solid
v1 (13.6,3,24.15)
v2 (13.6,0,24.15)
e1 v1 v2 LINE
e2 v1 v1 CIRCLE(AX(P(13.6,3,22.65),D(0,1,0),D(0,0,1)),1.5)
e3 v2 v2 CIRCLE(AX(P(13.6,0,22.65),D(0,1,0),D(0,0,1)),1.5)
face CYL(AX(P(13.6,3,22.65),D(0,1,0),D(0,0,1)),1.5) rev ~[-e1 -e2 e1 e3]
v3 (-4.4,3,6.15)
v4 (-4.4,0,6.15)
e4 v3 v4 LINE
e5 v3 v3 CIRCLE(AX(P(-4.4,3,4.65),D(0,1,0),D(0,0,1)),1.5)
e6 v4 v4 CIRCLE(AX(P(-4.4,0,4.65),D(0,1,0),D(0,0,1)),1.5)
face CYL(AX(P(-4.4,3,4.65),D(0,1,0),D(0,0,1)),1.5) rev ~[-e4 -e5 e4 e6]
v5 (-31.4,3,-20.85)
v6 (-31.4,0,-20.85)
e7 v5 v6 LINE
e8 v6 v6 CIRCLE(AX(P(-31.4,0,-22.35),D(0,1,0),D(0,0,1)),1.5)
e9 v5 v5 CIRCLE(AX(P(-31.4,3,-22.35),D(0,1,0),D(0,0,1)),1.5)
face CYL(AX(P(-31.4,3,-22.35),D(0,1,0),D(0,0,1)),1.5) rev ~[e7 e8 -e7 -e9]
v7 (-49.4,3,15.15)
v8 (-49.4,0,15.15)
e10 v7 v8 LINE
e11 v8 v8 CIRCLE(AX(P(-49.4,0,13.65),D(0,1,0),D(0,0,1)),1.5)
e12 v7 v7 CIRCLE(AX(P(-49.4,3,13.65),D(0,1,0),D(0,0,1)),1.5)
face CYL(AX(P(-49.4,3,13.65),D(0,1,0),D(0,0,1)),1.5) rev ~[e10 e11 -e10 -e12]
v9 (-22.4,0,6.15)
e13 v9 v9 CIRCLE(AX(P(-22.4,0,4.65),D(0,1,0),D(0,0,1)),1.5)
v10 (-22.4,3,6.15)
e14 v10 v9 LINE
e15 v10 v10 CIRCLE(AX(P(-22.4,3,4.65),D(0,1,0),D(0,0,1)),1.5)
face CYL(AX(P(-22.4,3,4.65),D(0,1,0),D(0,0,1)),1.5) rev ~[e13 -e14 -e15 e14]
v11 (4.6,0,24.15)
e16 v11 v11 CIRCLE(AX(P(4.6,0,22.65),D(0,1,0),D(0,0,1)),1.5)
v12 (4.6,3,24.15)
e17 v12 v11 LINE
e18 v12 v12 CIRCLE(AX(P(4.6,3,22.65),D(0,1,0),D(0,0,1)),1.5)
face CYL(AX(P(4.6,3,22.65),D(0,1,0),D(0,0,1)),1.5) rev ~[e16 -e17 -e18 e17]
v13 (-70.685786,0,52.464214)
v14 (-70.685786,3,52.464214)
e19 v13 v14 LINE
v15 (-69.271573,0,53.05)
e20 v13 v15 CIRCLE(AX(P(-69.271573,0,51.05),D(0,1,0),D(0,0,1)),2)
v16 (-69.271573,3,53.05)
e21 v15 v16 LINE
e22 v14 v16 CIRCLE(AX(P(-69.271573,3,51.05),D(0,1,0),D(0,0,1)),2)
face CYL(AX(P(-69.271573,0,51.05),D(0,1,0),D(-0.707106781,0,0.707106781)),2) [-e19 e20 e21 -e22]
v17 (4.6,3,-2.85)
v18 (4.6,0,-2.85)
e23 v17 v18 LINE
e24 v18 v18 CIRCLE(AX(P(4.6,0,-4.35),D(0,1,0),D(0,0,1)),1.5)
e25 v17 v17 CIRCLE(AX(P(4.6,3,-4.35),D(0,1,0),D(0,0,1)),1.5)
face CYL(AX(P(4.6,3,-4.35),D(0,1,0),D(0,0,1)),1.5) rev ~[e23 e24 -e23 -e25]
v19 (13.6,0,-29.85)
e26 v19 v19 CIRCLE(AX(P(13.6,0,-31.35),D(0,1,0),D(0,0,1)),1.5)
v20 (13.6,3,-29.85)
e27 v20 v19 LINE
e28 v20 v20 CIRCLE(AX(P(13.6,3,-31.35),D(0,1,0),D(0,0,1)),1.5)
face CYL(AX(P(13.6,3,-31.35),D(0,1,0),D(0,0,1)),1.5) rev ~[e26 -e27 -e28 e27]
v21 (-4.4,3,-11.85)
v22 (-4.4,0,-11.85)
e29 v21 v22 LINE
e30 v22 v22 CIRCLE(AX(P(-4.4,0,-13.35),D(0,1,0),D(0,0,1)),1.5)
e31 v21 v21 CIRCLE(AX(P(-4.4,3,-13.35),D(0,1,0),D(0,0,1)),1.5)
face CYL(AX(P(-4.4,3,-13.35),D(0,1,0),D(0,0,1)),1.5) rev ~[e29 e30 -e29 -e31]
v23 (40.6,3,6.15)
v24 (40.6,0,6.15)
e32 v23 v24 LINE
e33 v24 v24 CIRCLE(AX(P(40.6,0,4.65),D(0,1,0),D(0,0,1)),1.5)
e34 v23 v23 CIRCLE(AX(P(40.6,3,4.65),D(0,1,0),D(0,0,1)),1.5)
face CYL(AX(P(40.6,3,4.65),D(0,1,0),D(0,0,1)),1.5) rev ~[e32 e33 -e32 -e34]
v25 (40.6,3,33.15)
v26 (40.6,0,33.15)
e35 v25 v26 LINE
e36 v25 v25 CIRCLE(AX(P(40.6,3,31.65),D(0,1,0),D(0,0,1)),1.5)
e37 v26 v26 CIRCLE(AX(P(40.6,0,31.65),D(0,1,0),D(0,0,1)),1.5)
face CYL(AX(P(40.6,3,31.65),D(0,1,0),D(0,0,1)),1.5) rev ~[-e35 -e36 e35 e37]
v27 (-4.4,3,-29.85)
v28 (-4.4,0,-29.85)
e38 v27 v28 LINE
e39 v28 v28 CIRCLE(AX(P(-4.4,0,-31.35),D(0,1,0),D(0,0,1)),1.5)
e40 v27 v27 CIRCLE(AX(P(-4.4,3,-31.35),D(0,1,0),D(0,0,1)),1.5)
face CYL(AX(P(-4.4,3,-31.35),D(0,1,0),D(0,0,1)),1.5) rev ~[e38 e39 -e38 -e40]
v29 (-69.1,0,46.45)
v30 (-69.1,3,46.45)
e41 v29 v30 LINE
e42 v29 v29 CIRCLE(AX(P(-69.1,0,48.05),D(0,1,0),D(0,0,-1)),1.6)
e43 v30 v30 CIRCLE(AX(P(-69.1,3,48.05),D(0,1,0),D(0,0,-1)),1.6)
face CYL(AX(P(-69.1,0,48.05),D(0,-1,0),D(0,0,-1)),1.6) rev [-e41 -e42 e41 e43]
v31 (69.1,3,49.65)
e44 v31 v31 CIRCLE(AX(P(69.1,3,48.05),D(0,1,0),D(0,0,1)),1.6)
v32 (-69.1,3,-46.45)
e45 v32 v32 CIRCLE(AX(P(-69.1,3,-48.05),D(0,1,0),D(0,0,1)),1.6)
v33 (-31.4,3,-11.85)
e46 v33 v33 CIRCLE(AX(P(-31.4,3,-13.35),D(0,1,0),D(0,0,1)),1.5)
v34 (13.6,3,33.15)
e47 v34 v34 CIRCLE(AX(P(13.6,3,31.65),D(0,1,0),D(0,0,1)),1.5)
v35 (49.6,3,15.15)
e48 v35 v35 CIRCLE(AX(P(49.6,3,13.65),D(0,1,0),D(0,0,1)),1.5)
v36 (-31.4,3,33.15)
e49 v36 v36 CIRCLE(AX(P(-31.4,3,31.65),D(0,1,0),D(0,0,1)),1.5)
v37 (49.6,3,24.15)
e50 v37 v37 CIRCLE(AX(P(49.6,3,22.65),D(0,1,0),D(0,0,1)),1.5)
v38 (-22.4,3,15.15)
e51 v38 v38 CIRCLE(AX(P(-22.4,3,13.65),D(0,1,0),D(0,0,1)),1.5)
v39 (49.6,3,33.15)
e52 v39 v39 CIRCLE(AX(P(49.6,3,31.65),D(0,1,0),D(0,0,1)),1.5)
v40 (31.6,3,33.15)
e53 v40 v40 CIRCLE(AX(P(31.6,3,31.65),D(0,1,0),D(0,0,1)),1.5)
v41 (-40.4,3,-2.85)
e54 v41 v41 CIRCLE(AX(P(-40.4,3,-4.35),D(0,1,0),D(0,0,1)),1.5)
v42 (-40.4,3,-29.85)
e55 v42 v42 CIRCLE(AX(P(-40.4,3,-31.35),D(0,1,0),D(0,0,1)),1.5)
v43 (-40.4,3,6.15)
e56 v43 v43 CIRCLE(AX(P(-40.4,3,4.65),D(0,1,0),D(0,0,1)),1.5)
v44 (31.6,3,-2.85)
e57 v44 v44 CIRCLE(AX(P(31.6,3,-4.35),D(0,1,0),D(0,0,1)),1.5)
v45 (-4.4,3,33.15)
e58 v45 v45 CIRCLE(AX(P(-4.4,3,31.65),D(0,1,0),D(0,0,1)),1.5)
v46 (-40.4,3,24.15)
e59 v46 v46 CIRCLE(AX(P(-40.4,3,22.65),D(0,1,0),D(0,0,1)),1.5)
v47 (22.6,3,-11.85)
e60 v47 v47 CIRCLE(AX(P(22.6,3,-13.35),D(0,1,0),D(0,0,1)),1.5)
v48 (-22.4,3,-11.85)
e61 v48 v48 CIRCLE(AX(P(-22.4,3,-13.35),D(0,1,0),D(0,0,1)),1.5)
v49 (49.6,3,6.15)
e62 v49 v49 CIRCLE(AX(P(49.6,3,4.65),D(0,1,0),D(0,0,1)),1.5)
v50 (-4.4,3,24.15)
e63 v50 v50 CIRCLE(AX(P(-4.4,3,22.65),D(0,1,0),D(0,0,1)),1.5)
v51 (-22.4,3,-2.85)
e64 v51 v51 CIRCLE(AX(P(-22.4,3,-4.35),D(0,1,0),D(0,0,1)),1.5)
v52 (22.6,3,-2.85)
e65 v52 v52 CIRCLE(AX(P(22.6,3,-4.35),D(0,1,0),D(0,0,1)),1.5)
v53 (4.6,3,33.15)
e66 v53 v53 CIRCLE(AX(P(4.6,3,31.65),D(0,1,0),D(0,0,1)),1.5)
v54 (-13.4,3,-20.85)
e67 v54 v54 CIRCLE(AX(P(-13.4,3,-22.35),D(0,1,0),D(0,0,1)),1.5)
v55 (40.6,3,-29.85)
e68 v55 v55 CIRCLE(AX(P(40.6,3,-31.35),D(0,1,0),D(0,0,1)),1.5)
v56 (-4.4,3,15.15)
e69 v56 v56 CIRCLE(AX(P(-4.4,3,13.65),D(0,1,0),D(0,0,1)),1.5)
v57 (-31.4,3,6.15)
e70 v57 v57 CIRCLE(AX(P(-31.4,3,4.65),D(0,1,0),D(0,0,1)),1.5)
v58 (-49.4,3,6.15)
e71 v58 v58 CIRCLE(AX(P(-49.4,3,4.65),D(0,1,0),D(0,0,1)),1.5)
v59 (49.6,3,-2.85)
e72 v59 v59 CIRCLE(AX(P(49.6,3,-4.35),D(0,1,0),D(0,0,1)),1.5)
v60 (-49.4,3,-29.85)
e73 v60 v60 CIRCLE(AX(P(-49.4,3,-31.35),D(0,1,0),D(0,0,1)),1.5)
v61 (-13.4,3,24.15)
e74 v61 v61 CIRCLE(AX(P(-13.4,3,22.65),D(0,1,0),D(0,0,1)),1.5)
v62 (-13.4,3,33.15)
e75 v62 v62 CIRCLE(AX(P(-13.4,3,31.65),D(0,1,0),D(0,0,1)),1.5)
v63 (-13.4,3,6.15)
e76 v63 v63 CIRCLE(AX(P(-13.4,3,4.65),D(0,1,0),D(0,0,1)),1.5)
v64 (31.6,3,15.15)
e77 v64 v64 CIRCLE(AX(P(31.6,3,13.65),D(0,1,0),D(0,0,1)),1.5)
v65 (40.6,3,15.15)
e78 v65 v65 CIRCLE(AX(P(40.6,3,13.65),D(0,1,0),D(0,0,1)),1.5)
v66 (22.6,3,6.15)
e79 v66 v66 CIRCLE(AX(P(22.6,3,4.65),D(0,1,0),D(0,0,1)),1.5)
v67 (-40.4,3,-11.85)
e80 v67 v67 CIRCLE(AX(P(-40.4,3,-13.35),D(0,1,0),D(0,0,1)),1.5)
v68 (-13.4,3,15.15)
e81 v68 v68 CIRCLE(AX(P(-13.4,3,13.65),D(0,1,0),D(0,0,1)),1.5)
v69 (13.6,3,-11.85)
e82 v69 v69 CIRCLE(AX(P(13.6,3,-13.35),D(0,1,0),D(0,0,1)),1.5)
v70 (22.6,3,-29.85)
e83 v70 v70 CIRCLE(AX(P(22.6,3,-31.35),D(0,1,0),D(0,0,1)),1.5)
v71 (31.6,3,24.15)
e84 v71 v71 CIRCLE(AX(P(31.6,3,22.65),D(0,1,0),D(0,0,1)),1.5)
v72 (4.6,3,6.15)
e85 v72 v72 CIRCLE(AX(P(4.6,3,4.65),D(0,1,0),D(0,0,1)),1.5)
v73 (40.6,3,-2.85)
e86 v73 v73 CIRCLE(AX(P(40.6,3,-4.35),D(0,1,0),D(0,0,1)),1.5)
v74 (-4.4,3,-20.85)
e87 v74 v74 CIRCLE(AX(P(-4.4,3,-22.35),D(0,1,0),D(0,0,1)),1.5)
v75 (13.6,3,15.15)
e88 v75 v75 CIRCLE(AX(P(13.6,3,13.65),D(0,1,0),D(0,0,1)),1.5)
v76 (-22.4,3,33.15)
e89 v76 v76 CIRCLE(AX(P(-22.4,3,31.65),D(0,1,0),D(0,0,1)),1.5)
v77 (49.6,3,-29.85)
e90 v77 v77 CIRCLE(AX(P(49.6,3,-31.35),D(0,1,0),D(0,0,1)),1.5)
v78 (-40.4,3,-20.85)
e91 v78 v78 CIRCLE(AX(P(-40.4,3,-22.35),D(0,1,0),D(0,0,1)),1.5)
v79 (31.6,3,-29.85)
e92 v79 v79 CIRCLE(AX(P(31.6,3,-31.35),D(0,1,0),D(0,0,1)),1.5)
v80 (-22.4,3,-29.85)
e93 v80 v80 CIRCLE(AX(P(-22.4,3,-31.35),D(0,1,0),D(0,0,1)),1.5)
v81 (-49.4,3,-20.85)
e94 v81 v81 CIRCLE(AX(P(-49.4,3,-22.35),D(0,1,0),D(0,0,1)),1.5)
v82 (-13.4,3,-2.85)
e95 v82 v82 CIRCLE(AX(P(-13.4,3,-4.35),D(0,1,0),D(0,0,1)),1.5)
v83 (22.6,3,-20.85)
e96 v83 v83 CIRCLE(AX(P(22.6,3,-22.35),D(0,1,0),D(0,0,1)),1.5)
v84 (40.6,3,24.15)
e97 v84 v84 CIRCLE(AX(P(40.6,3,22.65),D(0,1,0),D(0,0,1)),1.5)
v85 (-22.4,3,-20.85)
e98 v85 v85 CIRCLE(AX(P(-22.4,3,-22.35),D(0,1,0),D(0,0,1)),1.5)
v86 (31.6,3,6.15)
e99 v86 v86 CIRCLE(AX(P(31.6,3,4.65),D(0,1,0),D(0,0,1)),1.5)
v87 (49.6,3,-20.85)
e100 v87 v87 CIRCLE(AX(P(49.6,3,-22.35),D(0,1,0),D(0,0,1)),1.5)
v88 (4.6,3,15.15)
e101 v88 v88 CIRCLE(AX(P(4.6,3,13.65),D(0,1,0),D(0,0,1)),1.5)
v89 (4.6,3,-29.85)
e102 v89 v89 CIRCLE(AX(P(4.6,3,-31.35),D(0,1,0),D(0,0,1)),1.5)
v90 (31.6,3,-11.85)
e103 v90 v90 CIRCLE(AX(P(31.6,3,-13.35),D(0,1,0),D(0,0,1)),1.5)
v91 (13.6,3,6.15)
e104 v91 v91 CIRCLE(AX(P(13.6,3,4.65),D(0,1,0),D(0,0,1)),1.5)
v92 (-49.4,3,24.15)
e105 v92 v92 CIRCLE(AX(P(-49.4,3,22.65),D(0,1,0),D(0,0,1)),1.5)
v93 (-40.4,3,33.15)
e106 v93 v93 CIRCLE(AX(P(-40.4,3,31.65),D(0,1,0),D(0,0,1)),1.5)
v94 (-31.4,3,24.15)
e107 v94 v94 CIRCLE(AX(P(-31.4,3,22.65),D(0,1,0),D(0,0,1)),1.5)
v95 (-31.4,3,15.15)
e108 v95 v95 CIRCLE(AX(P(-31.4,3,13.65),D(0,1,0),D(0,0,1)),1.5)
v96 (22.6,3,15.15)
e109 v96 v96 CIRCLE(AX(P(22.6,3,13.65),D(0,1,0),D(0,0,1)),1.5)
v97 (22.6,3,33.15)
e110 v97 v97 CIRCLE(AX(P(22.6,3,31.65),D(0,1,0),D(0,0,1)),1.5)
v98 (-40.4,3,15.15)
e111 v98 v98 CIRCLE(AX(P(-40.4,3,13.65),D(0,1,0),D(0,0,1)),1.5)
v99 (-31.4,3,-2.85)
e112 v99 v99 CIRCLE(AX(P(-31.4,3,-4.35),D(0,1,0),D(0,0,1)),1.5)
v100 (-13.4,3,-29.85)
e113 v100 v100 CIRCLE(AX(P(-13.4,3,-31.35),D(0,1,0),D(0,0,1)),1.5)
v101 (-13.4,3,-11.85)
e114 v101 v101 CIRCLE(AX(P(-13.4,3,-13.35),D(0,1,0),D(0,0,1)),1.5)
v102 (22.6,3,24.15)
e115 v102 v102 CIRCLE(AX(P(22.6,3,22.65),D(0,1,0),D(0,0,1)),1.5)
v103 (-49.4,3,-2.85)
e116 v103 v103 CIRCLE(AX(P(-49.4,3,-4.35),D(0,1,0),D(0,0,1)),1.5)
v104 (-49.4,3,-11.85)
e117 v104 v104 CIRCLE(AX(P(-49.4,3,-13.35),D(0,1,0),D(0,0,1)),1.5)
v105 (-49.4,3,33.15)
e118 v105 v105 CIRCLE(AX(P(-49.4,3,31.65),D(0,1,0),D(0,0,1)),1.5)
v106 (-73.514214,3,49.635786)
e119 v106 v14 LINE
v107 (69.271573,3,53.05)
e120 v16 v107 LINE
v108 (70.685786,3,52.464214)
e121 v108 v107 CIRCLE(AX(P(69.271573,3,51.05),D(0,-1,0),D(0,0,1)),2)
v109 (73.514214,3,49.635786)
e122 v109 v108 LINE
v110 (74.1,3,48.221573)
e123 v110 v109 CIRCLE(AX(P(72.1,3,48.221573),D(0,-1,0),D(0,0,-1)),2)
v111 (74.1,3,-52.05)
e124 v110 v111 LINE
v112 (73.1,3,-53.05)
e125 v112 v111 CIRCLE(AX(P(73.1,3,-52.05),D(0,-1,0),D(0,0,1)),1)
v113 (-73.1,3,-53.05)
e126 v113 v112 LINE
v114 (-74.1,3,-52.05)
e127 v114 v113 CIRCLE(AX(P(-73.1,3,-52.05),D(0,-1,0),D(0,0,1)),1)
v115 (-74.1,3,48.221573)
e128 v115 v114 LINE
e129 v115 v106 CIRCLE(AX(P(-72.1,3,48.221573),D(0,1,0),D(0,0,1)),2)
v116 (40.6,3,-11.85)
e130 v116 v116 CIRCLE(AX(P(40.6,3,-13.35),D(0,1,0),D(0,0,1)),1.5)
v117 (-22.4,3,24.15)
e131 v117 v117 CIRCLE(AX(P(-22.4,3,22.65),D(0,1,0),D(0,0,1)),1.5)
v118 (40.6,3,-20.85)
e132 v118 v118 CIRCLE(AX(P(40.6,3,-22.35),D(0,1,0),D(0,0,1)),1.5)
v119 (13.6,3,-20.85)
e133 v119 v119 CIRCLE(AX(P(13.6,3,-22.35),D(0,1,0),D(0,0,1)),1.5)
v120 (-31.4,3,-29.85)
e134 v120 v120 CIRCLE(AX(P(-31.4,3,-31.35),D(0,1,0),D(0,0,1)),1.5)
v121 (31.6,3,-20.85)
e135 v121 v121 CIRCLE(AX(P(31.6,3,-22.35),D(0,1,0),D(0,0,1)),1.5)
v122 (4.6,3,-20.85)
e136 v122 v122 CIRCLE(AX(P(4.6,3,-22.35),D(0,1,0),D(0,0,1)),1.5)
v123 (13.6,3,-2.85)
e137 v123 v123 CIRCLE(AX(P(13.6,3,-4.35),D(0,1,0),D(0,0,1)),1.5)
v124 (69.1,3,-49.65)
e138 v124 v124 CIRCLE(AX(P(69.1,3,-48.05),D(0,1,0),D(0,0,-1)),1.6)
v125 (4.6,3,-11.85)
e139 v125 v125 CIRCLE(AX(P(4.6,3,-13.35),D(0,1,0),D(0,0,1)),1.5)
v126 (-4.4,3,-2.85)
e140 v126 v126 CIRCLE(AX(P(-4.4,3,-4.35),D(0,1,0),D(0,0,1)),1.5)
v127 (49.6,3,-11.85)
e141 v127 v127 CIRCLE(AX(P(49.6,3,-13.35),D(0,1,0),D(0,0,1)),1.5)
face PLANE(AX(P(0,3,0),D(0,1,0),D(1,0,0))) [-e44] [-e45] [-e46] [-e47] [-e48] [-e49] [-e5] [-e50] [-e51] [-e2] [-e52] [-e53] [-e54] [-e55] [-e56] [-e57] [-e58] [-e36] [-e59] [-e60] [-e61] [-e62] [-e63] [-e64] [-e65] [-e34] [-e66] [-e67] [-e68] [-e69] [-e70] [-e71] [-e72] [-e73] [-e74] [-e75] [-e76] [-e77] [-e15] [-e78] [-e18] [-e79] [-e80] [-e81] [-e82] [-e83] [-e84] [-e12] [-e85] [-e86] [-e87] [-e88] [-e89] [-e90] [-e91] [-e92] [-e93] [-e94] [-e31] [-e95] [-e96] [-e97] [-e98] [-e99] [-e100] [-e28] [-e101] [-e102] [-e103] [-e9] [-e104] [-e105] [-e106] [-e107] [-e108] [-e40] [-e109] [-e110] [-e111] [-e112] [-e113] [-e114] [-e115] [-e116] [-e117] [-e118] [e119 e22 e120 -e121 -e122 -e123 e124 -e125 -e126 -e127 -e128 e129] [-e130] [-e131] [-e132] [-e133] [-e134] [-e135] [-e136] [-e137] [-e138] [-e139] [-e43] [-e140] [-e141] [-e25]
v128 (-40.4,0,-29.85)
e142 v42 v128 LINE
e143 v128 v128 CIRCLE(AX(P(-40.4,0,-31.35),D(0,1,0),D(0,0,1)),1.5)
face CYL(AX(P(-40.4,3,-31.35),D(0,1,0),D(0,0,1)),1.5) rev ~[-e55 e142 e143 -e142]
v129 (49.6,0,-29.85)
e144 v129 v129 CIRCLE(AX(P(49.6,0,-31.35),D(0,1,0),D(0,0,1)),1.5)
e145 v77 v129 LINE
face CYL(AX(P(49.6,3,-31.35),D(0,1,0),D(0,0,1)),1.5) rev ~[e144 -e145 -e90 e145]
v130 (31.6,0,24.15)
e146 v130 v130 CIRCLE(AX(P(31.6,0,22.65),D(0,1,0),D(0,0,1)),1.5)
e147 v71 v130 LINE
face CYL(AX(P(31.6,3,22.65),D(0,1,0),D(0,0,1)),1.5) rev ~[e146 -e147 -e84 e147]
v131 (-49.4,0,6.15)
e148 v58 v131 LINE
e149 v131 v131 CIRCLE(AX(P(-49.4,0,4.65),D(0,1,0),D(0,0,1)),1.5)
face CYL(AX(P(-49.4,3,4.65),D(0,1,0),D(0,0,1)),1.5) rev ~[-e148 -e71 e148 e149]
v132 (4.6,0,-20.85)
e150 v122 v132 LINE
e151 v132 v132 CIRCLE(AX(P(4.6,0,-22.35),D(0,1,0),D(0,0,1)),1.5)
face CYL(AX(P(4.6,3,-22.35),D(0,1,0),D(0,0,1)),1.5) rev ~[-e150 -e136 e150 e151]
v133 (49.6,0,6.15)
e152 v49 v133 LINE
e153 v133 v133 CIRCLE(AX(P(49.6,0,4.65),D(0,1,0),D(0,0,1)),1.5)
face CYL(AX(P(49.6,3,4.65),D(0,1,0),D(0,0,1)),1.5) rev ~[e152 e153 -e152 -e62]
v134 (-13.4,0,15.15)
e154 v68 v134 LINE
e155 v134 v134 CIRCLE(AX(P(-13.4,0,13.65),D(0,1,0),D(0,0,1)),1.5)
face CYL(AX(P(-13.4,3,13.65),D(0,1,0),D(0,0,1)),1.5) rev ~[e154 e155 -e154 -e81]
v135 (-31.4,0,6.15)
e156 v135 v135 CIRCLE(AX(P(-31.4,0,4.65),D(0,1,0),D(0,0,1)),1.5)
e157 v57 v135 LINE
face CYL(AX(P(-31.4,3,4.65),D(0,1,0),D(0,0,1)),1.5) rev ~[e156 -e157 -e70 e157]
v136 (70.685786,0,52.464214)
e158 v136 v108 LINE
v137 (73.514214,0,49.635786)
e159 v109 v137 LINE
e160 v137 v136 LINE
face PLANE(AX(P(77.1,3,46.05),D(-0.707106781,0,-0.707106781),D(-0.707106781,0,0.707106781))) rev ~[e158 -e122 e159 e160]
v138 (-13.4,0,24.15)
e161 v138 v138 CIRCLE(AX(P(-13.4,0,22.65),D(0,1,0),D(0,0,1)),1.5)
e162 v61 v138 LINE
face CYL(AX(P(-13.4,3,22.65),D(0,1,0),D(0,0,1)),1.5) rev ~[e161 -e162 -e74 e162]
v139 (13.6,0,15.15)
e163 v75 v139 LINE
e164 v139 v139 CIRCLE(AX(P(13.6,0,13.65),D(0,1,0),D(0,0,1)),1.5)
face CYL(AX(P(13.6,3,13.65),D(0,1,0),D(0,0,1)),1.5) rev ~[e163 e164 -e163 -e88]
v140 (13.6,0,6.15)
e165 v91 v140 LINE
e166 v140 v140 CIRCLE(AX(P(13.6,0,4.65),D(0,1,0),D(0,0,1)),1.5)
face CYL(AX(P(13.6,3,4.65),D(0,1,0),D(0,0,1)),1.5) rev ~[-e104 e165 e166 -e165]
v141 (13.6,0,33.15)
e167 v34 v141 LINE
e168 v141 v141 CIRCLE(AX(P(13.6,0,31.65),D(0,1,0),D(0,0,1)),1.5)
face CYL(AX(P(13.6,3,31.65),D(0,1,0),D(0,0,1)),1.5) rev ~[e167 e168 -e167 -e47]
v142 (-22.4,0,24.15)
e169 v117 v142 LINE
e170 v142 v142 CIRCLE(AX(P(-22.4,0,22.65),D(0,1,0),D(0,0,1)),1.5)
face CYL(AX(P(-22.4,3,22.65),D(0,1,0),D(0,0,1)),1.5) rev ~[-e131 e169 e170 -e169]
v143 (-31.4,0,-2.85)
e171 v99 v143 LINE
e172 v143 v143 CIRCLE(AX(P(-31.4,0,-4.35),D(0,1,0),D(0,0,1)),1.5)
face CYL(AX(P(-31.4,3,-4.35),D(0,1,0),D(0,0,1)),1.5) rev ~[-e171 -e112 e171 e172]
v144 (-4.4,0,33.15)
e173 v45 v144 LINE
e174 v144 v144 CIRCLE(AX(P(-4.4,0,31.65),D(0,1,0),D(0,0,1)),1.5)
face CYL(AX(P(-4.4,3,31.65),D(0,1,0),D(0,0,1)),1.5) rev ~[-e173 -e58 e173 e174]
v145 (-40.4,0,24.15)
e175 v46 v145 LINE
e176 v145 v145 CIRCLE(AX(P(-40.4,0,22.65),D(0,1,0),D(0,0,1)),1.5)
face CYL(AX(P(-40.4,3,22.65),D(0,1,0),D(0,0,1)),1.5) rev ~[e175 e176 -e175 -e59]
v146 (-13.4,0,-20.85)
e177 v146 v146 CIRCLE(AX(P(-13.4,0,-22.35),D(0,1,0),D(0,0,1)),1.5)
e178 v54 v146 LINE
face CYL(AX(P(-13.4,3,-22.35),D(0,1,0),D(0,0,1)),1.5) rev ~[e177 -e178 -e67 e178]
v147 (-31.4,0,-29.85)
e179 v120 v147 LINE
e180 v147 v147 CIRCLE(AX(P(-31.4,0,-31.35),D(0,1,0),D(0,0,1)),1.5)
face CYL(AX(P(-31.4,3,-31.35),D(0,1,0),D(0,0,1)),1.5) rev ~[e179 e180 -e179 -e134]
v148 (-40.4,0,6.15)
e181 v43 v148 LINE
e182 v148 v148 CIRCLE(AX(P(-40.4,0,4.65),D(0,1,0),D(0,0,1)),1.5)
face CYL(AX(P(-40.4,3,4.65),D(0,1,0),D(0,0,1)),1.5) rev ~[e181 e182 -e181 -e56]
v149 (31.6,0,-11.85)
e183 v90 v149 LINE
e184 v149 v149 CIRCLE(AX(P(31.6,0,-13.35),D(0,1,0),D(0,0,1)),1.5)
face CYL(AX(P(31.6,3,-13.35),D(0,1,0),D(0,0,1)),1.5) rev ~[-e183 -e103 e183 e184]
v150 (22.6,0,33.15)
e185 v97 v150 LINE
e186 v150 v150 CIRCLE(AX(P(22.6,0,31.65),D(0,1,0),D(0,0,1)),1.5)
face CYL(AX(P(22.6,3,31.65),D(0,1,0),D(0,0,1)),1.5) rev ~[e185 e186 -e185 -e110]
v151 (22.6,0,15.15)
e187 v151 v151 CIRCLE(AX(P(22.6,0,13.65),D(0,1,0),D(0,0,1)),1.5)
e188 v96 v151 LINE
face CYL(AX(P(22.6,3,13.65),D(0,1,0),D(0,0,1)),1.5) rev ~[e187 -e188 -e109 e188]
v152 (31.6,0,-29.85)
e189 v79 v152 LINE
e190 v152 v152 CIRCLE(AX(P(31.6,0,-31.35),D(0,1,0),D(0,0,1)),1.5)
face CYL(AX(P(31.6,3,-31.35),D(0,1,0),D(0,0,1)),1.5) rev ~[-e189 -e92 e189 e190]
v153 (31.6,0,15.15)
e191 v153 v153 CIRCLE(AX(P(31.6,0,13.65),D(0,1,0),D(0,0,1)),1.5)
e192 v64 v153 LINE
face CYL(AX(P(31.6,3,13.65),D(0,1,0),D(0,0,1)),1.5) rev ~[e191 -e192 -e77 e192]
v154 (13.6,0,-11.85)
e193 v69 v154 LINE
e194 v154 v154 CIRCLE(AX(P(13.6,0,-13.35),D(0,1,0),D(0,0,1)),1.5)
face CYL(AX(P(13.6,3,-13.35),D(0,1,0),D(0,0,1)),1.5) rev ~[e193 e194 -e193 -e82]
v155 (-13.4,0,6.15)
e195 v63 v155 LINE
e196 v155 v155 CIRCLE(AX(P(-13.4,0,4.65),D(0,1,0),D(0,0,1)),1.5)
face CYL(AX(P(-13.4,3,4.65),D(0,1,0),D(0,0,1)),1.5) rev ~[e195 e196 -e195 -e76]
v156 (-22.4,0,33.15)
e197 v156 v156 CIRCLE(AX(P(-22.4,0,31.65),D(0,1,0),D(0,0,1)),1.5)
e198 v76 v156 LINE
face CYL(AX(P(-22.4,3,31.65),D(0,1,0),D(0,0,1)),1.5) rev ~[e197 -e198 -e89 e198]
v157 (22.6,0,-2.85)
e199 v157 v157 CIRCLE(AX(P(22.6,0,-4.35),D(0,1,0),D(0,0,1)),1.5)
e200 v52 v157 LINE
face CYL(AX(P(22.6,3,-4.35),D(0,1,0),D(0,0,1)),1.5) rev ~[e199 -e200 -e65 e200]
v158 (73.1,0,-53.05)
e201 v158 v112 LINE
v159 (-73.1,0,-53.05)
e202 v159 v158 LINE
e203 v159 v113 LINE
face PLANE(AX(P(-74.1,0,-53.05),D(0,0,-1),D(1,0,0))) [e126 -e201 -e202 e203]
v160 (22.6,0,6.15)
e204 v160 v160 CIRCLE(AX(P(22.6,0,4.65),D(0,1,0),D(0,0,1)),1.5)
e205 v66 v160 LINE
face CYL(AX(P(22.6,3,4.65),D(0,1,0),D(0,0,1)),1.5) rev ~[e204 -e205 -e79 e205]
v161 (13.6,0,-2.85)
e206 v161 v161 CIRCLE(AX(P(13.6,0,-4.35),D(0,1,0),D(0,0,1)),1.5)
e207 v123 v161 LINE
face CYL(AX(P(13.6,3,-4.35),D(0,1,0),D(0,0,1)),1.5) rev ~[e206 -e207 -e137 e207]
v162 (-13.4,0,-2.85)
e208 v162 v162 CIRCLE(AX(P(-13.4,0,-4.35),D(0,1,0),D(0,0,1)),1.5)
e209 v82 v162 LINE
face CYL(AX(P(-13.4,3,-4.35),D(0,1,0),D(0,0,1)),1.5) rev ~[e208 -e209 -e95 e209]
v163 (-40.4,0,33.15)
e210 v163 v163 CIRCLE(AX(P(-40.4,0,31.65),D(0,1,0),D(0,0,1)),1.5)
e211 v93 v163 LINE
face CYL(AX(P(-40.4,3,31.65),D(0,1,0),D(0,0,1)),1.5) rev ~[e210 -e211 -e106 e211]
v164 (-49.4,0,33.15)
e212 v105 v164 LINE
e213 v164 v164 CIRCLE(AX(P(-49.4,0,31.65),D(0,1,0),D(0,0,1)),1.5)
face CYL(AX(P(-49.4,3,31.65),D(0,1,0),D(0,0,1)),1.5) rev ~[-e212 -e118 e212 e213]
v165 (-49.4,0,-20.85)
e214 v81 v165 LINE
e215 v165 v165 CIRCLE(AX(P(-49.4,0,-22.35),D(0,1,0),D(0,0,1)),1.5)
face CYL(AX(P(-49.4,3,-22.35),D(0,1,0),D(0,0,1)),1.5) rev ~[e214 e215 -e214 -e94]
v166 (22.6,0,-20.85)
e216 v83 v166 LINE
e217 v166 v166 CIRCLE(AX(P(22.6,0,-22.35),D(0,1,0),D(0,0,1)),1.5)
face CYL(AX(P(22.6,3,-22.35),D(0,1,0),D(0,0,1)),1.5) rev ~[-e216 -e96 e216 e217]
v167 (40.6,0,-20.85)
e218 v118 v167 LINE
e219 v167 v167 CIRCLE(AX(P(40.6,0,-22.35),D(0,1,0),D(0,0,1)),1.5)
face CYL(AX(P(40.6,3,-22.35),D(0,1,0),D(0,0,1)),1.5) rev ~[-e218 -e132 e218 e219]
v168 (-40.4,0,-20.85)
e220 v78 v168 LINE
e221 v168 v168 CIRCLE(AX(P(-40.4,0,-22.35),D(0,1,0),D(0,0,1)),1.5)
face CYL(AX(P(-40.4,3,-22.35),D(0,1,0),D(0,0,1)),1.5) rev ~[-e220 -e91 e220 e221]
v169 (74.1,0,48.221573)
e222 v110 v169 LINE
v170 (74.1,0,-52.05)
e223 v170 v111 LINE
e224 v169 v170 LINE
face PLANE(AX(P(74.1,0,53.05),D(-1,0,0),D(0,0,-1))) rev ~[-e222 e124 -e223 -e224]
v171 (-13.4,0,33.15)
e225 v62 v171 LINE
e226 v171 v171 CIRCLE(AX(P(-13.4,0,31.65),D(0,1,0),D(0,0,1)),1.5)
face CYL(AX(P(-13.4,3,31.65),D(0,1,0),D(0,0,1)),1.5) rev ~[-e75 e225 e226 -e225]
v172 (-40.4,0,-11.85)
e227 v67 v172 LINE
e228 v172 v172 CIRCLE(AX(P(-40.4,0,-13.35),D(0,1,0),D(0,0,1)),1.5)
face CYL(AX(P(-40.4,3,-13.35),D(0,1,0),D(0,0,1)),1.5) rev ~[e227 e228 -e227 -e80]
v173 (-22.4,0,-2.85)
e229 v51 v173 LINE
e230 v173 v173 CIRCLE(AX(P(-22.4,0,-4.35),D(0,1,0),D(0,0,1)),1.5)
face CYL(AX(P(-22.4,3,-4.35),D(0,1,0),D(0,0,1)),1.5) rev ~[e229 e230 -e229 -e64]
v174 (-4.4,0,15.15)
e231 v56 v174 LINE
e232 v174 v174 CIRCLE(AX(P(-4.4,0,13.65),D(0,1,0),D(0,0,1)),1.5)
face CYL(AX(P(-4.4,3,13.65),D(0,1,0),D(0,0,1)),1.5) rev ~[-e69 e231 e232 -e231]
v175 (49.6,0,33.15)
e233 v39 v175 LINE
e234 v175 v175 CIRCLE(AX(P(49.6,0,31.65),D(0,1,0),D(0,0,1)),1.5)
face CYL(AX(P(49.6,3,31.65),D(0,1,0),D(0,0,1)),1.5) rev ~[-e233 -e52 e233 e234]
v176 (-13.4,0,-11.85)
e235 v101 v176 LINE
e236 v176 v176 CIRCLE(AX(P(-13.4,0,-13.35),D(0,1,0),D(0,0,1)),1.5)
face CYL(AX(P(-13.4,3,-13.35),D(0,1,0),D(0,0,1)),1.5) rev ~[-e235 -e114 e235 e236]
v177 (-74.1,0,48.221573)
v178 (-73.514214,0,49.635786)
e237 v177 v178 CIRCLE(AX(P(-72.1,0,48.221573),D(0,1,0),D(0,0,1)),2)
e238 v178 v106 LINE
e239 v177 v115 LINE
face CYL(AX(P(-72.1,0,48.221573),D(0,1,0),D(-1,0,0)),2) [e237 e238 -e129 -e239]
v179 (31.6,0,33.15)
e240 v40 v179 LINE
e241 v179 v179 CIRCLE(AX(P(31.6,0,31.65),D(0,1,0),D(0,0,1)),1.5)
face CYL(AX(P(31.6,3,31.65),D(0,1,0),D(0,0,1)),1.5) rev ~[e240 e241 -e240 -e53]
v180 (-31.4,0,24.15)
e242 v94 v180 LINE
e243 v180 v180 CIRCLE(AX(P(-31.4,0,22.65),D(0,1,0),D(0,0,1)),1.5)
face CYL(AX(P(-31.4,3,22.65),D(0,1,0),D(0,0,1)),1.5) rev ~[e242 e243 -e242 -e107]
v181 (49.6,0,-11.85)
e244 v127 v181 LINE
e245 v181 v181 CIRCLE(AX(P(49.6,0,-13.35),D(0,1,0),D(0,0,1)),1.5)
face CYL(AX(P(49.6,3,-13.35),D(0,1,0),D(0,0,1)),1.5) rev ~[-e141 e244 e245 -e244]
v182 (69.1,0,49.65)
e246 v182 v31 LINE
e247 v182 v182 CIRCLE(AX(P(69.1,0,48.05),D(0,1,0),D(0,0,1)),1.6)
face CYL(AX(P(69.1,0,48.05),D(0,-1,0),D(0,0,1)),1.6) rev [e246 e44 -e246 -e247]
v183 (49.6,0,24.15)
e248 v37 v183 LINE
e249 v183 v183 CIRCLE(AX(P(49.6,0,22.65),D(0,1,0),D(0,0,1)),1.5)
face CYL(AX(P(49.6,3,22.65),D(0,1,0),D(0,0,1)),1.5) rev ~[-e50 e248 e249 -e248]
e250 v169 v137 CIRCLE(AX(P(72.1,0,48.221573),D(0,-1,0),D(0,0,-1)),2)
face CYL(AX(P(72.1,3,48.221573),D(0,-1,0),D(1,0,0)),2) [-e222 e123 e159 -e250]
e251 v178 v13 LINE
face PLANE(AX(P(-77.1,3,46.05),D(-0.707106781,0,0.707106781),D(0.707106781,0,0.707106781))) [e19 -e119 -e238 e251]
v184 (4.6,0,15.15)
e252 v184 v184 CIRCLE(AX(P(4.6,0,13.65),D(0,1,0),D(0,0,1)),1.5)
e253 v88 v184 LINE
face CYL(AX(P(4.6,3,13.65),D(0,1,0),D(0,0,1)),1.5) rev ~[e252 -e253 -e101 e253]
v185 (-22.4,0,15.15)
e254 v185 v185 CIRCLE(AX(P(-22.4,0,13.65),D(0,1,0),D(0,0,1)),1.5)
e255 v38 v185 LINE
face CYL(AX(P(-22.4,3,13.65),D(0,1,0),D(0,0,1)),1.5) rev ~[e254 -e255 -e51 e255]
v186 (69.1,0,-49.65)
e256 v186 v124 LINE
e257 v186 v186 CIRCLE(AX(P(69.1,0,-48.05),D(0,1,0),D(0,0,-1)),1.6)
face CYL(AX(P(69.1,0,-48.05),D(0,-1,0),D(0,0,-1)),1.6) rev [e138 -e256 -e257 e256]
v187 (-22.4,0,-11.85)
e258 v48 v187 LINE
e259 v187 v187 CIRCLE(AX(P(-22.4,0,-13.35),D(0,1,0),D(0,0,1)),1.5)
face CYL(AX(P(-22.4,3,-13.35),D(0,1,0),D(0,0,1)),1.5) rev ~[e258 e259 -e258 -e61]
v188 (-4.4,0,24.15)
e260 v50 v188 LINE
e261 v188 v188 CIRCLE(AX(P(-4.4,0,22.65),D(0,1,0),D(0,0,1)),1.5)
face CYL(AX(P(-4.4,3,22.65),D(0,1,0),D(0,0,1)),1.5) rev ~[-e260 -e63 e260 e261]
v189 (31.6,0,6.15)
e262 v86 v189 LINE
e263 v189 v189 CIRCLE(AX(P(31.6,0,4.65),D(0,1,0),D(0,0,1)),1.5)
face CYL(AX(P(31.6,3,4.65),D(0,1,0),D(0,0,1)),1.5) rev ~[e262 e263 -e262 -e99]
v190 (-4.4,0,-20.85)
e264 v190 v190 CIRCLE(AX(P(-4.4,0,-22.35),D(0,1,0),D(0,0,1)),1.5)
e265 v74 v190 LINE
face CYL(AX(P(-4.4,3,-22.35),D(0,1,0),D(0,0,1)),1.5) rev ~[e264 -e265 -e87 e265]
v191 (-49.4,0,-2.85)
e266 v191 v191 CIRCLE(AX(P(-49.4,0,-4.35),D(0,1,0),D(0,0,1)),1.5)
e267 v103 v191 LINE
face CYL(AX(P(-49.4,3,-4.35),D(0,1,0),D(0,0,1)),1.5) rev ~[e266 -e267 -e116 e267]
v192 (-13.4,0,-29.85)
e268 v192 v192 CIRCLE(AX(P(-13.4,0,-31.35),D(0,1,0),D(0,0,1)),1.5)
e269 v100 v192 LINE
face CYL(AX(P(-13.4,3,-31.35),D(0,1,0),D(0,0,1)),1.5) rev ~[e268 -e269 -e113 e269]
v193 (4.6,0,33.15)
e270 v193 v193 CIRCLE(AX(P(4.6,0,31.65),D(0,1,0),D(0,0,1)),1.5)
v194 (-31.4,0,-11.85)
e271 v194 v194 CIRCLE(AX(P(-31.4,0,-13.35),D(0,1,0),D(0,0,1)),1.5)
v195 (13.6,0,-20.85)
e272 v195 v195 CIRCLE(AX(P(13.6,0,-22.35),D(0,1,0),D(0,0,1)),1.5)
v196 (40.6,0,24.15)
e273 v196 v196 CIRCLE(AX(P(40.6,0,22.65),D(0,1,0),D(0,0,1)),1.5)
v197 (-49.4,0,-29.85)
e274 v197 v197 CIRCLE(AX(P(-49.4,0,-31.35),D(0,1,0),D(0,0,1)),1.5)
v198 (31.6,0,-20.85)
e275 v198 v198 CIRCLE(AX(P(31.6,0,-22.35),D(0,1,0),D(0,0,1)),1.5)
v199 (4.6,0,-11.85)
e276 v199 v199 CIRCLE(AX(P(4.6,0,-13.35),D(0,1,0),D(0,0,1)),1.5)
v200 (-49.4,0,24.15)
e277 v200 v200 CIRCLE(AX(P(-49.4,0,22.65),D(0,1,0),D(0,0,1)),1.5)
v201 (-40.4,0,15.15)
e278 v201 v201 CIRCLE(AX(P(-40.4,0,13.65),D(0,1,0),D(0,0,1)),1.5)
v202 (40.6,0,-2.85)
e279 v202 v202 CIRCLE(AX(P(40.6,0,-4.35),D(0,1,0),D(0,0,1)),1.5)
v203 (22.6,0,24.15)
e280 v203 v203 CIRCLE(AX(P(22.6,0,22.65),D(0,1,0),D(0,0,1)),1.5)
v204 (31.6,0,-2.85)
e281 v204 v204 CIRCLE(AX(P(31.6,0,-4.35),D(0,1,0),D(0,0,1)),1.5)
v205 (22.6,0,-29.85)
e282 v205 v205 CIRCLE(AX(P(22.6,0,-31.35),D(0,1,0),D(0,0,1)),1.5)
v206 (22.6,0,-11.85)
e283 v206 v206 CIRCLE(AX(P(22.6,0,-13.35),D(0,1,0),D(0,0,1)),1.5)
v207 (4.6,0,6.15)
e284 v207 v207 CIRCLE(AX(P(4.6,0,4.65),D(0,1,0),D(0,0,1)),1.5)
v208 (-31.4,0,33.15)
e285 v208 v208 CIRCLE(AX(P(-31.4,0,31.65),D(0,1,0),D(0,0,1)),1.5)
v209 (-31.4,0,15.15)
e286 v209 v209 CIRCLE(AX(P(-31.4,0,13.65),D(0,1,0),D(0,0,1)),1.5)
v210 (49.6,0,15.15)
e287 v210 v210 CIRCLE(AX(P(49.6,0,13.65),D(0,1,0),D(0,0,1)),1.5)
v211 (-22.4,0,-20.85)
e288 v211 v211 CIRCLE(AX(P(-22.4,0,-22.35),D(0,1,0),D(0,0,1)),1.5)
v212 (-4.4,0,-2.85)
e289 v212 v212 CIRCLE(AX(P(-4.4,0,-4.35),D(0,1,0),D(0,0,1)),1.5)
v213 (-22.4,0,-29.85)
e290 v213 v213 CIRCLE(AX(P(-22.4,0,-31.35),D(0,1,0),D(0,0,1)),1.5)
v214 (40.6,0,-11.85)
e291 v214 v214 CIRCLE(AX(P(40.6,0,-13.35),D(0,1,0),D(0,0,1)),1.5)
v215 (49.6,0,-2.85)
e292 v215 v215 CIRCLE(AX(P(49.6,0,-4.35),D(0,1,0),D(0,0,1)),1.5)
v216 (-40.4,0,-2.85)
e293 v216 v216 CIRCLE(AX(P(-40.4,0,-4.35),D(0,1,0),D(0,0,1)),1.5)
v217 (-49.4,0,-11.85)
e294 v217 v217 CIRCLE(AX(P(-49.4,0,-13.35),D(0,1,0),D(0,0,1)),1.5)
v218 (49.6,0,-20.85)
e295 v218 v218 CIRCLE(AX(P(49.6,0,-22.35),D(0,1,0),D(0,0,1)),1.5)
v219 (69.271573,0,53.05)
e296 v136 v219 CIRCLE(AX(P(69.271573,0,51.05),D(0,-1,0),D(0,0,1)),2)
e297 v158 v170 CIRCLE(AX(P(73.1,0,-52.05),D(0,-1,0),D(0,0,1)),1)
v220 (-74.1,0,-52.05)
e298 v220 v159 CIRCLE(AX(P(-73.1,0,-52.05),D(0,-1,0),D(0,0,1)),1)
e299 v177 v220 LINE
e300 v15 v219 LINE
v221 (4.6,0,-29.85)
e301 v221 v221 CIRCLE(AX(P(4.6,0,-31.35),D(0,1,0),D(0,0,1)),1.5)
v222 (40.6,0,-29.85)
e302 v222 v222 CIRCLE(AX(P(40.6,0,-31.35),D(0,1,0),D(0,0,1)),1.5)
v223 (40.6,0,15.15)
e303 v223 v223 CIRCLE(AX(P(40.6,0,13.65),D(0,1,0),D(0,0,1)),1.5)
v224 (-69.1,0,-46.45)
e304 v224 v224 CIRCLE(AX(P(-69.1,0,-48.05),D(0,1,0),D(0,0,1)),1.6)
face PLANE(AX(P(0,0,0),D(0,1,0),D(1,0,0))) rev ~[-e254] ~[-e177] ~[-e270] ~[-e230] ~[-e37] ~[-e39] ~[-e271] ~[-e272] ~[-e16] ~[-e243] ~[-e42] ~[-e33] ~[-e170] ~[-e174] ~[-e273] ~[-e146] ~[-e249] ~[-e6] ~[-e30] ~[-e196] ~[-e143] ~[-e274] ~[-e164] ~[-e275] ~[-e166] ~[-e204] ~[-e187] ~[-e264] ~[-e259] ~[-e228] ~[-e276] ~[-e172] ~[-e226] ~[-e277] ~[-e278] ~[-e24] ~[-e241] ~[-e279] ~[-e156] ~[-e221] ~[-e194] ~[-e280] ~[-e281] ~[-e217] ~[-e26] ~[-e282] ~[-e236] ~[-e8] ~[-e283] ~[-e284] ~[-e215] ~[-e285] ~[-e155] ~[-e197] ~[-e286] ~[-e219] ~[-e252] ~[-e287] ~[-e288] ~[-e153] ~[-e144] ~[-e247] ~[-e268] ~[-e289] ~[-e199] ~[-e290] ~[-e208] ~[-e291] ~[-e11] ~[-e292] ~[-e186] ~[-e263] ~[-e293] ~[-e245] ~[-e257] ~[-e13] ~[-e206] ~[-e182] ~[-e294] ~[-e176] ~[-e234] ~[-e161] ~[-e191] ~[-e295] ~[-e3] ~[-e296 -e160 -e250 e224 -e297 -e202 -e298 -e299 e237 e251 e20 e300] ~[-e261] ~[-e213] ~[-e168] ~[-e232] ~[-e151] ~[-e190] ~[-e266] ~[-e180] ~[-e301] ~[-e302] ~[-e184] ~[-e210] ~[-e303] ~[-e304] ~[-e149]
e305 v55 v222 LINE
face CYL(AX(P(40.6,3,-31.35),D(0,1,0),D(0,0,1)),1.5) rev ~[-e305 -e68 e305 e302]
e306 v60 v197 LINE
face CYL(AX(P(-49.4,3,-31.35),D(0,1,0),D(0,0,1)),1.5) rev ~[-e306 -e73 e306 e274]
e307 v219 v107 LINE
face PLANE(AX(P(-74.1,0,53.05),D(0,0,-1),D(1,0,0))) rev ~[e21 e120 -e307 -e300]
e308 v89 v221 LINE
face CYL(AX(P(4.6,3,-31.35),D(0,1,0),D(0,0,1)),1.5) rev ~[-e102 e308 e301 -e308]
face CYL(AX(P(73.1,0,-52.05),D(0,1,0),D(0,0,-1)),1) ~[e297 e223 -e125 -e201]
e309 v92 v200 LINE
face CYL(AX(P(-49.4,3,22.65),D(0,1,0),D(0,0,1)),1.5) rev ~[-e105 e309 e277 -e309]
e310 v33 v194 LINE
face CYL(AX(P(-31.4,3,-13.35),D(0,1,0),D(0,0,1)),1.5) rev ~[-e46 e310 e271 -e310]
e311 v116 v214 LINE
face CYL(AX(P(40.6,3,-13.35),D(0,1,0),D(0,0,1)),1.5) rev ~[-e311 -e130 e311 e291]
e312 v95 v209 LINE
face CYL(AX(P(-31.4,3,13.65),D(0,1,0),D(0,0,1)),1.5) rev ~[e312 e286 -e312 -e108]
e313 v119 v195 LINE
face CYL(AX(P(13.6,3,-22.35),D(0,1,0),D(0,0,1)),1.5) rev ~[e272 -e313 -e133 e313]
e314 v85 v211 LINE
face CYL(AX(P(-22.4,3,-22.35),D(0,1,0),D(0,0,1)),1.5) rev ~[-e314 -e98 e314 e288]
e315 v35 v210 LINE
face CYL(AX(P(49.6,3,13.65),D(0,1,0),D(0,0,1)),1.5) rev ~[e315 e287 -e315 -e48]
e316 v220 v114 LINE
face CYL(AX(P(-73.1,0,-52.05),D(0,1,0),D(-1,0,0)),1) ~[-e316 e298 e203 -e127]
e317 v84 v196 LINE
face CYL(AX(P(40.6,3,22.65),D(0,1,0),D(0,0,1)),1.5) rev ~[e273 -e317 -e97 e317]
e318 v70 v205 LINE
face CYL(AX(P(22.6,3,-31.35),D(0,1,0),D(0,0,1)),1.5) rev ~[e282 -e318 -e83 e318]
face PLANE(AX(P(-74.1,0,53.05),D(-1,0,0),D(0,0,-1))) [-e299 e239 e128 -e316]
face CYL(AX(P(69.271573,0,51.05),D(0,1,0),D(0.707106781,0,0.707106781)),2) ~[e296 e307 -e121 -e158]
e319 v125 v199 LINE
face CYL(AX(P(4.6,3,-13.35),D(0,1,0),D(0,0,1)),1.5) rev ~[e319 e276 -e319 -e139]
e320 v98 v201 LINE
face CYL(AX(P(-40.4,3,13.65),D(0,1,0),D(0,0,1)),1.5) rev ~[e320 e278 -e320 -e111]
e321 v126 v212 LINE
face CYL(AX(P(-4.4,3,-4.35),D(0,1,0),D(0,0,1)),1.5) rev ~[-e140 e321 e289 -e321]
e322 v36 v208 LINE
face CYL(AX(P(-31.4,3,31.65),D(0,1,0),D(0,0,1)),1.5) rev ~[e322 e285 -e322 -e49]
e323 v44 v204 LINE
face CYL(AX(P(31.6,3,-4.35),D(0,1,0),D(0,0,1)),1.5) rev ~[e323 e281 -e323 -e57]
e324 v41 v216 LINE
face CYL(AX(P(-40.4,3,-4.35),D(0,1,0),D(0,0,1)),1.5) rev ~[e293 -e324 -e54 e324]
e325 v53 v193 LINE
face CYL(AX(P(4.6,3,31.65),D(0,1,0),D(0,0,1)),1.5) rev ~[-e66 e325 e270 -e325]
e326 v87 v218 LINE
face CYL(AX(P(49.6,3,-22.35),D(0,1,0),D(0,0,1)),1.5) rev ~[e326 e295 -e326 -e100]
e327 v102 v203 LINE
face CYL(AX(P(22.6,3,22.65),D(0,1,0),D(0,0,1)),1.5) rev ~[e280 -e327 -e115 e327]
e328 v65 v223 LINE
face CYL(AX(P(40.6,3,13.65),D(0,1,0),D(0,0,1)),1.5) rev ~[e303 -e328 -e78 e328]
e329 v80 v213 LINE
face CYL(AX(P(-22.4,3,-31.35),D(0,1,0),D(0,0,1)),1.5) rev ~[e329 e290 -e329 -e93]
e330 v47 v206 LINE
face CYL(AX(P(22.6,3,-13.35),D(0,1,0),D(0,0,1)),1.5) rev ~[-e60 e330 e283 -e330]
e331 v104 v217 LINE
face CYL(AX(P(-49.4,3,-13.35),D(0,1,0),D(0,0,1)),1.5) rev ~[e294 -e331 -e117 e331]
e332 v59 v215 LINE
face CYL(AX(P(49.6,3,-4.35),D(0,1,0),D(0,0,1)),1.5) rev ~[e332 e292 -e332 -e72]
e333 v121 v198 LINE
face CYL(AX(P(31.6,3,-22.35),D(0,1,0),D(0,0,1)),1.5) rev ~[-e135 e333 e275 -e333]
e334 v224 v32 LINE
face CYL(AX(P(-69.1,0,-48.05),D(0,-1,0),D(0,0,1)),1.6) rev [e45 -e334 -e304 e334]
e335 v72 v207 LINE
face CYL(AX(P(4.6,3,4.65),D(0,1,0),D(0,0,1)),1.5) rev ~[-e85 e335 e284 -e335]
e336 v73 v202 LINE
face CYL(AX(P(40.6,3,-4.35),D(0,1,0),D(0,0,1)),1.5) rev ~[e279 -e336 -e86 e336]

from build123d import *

# Parameters (mm, degrees)
SKETCH1_W            = 148.2
SKETCH1_H            = 106.1
SKETCH1_R            = 1.6
BOSS_EXTRUDE1_DEPTH  = 3
SKETCH2_R            = 1.5
CUT_EXTRUDE1_DEPTH   = 3
LPATTERN1_COUNT      = 8
LPATTERN1_PITCH      = 9
LPATTERN1_COUNT_DIR2 = 12
LPATTERN1_PITCH_DIR2 = 9
FILLET1_R            = 1
CUT_EXTRUDE2_DEPTH   = 3
FILLET2_R            = 2


with BuildPart() as part:
    # Sketch1 → Boss-Extrude1 (new body)
    with BuildSketch(Plane(origin=(0, 0, 0), x_dir=(1, 0, 0), z_dir=(0, 1, 0))):
        Rectangle(SKETCH1_W, SKETCH1_H)
        with Locations(Location((-69.1, 48.05, 0), (0, 0, 270))):
            Circle(SKETCH1_R, mode=Mode.SUBTRACT)
        with Locations(Location((-69.1, -48.05, 0), (0, 0, 90))):
            Circle(SKETCH1_R, mode=Mode.SUBTRACT)
        with Locations(Location((69.1, -48.05, 0), (0, 0, 270))):
            Circle(SKETCH1_R, mode=Mode.SUBTRACT)
        with Locations(Location((69.1, 48.05, 0), (0, 0, 90))):
            Circle(SKETCH1_R, mode=Mode.SUBTRACT)
    extrude(amount=BOSS_EXTRUDE1_DEPTH)

    # Sketch2 → Cut-Extrude1 (cut)
    with BuildSketch(Plane(origin=(0, 3, 0), x_dir=(-1, 0, 0), z_dir=(0, 1, 0))):
        with Locations(Location((49.4, -31.35, 0), (0, 0, 90))):
            Circle(SKETCH2_R)
    cut_extrude1 = extrude(amount=-CUT_EXTRUDE1_DEPTH, mode=Mode.SUBTRACT)

    # LPattern1: Cut-Extrude1 8 × 12
    with Locations(*[(j * LPATTERN1_PITCH_DIR2, 0, i * LPATTERN1_PITCH) for i in range(LPATTERN1_COUNT) for j in range(LPATTERN1_COUNT_DIR2) if (i, j) != (0, 0)]):
        add(cut_extrude1, mode=Mode.SUBTRACT)

    # Fillet1
    fillet1_edges = [part.edges().sort_by_distance(p)[0] for p in [
        (-74.1, 1.5, -53.05),
        (74.1, 1.5, -53.05),
        (74.1, 1.5, 53.05),
        (-74.1, 1.5, 53.05),
    ]]
    fillet(fillet1_edges, radius=FILLET1_R)

    # Sketch3 → Cut-Extrude2 (cut)
    with BuildSketch(Plane(origin=(0, 3, 0), x_dir=(-1, 0, 0), z_dir=(0, 1, 0))):
        Polygon((77.1, 46.05), (67.1, 56.05), (77.1, 56.05), align=None)
        Polygon((-77.1, 56.05), (-77.1, 46.05), (-67.1, 56.05), align=None)
    extrude(amount=-CUT_EXTRUDE2_DEPTH, mode=Mode.SUBTRACT)

    # Fillet2
    fillet2_edges = [part.edges().sort_by_distance(p)[0] for p in [
        (-70.1, 1.5, 53.05),
        (-74.1, 1.5, 49.05),
        (74.1, 1.5, 49.05),
        (70.1, 1.5, 53.05),
    ]]
    fillet(fillet2_edges, radius=FILLET2_R)


solid = part.part
